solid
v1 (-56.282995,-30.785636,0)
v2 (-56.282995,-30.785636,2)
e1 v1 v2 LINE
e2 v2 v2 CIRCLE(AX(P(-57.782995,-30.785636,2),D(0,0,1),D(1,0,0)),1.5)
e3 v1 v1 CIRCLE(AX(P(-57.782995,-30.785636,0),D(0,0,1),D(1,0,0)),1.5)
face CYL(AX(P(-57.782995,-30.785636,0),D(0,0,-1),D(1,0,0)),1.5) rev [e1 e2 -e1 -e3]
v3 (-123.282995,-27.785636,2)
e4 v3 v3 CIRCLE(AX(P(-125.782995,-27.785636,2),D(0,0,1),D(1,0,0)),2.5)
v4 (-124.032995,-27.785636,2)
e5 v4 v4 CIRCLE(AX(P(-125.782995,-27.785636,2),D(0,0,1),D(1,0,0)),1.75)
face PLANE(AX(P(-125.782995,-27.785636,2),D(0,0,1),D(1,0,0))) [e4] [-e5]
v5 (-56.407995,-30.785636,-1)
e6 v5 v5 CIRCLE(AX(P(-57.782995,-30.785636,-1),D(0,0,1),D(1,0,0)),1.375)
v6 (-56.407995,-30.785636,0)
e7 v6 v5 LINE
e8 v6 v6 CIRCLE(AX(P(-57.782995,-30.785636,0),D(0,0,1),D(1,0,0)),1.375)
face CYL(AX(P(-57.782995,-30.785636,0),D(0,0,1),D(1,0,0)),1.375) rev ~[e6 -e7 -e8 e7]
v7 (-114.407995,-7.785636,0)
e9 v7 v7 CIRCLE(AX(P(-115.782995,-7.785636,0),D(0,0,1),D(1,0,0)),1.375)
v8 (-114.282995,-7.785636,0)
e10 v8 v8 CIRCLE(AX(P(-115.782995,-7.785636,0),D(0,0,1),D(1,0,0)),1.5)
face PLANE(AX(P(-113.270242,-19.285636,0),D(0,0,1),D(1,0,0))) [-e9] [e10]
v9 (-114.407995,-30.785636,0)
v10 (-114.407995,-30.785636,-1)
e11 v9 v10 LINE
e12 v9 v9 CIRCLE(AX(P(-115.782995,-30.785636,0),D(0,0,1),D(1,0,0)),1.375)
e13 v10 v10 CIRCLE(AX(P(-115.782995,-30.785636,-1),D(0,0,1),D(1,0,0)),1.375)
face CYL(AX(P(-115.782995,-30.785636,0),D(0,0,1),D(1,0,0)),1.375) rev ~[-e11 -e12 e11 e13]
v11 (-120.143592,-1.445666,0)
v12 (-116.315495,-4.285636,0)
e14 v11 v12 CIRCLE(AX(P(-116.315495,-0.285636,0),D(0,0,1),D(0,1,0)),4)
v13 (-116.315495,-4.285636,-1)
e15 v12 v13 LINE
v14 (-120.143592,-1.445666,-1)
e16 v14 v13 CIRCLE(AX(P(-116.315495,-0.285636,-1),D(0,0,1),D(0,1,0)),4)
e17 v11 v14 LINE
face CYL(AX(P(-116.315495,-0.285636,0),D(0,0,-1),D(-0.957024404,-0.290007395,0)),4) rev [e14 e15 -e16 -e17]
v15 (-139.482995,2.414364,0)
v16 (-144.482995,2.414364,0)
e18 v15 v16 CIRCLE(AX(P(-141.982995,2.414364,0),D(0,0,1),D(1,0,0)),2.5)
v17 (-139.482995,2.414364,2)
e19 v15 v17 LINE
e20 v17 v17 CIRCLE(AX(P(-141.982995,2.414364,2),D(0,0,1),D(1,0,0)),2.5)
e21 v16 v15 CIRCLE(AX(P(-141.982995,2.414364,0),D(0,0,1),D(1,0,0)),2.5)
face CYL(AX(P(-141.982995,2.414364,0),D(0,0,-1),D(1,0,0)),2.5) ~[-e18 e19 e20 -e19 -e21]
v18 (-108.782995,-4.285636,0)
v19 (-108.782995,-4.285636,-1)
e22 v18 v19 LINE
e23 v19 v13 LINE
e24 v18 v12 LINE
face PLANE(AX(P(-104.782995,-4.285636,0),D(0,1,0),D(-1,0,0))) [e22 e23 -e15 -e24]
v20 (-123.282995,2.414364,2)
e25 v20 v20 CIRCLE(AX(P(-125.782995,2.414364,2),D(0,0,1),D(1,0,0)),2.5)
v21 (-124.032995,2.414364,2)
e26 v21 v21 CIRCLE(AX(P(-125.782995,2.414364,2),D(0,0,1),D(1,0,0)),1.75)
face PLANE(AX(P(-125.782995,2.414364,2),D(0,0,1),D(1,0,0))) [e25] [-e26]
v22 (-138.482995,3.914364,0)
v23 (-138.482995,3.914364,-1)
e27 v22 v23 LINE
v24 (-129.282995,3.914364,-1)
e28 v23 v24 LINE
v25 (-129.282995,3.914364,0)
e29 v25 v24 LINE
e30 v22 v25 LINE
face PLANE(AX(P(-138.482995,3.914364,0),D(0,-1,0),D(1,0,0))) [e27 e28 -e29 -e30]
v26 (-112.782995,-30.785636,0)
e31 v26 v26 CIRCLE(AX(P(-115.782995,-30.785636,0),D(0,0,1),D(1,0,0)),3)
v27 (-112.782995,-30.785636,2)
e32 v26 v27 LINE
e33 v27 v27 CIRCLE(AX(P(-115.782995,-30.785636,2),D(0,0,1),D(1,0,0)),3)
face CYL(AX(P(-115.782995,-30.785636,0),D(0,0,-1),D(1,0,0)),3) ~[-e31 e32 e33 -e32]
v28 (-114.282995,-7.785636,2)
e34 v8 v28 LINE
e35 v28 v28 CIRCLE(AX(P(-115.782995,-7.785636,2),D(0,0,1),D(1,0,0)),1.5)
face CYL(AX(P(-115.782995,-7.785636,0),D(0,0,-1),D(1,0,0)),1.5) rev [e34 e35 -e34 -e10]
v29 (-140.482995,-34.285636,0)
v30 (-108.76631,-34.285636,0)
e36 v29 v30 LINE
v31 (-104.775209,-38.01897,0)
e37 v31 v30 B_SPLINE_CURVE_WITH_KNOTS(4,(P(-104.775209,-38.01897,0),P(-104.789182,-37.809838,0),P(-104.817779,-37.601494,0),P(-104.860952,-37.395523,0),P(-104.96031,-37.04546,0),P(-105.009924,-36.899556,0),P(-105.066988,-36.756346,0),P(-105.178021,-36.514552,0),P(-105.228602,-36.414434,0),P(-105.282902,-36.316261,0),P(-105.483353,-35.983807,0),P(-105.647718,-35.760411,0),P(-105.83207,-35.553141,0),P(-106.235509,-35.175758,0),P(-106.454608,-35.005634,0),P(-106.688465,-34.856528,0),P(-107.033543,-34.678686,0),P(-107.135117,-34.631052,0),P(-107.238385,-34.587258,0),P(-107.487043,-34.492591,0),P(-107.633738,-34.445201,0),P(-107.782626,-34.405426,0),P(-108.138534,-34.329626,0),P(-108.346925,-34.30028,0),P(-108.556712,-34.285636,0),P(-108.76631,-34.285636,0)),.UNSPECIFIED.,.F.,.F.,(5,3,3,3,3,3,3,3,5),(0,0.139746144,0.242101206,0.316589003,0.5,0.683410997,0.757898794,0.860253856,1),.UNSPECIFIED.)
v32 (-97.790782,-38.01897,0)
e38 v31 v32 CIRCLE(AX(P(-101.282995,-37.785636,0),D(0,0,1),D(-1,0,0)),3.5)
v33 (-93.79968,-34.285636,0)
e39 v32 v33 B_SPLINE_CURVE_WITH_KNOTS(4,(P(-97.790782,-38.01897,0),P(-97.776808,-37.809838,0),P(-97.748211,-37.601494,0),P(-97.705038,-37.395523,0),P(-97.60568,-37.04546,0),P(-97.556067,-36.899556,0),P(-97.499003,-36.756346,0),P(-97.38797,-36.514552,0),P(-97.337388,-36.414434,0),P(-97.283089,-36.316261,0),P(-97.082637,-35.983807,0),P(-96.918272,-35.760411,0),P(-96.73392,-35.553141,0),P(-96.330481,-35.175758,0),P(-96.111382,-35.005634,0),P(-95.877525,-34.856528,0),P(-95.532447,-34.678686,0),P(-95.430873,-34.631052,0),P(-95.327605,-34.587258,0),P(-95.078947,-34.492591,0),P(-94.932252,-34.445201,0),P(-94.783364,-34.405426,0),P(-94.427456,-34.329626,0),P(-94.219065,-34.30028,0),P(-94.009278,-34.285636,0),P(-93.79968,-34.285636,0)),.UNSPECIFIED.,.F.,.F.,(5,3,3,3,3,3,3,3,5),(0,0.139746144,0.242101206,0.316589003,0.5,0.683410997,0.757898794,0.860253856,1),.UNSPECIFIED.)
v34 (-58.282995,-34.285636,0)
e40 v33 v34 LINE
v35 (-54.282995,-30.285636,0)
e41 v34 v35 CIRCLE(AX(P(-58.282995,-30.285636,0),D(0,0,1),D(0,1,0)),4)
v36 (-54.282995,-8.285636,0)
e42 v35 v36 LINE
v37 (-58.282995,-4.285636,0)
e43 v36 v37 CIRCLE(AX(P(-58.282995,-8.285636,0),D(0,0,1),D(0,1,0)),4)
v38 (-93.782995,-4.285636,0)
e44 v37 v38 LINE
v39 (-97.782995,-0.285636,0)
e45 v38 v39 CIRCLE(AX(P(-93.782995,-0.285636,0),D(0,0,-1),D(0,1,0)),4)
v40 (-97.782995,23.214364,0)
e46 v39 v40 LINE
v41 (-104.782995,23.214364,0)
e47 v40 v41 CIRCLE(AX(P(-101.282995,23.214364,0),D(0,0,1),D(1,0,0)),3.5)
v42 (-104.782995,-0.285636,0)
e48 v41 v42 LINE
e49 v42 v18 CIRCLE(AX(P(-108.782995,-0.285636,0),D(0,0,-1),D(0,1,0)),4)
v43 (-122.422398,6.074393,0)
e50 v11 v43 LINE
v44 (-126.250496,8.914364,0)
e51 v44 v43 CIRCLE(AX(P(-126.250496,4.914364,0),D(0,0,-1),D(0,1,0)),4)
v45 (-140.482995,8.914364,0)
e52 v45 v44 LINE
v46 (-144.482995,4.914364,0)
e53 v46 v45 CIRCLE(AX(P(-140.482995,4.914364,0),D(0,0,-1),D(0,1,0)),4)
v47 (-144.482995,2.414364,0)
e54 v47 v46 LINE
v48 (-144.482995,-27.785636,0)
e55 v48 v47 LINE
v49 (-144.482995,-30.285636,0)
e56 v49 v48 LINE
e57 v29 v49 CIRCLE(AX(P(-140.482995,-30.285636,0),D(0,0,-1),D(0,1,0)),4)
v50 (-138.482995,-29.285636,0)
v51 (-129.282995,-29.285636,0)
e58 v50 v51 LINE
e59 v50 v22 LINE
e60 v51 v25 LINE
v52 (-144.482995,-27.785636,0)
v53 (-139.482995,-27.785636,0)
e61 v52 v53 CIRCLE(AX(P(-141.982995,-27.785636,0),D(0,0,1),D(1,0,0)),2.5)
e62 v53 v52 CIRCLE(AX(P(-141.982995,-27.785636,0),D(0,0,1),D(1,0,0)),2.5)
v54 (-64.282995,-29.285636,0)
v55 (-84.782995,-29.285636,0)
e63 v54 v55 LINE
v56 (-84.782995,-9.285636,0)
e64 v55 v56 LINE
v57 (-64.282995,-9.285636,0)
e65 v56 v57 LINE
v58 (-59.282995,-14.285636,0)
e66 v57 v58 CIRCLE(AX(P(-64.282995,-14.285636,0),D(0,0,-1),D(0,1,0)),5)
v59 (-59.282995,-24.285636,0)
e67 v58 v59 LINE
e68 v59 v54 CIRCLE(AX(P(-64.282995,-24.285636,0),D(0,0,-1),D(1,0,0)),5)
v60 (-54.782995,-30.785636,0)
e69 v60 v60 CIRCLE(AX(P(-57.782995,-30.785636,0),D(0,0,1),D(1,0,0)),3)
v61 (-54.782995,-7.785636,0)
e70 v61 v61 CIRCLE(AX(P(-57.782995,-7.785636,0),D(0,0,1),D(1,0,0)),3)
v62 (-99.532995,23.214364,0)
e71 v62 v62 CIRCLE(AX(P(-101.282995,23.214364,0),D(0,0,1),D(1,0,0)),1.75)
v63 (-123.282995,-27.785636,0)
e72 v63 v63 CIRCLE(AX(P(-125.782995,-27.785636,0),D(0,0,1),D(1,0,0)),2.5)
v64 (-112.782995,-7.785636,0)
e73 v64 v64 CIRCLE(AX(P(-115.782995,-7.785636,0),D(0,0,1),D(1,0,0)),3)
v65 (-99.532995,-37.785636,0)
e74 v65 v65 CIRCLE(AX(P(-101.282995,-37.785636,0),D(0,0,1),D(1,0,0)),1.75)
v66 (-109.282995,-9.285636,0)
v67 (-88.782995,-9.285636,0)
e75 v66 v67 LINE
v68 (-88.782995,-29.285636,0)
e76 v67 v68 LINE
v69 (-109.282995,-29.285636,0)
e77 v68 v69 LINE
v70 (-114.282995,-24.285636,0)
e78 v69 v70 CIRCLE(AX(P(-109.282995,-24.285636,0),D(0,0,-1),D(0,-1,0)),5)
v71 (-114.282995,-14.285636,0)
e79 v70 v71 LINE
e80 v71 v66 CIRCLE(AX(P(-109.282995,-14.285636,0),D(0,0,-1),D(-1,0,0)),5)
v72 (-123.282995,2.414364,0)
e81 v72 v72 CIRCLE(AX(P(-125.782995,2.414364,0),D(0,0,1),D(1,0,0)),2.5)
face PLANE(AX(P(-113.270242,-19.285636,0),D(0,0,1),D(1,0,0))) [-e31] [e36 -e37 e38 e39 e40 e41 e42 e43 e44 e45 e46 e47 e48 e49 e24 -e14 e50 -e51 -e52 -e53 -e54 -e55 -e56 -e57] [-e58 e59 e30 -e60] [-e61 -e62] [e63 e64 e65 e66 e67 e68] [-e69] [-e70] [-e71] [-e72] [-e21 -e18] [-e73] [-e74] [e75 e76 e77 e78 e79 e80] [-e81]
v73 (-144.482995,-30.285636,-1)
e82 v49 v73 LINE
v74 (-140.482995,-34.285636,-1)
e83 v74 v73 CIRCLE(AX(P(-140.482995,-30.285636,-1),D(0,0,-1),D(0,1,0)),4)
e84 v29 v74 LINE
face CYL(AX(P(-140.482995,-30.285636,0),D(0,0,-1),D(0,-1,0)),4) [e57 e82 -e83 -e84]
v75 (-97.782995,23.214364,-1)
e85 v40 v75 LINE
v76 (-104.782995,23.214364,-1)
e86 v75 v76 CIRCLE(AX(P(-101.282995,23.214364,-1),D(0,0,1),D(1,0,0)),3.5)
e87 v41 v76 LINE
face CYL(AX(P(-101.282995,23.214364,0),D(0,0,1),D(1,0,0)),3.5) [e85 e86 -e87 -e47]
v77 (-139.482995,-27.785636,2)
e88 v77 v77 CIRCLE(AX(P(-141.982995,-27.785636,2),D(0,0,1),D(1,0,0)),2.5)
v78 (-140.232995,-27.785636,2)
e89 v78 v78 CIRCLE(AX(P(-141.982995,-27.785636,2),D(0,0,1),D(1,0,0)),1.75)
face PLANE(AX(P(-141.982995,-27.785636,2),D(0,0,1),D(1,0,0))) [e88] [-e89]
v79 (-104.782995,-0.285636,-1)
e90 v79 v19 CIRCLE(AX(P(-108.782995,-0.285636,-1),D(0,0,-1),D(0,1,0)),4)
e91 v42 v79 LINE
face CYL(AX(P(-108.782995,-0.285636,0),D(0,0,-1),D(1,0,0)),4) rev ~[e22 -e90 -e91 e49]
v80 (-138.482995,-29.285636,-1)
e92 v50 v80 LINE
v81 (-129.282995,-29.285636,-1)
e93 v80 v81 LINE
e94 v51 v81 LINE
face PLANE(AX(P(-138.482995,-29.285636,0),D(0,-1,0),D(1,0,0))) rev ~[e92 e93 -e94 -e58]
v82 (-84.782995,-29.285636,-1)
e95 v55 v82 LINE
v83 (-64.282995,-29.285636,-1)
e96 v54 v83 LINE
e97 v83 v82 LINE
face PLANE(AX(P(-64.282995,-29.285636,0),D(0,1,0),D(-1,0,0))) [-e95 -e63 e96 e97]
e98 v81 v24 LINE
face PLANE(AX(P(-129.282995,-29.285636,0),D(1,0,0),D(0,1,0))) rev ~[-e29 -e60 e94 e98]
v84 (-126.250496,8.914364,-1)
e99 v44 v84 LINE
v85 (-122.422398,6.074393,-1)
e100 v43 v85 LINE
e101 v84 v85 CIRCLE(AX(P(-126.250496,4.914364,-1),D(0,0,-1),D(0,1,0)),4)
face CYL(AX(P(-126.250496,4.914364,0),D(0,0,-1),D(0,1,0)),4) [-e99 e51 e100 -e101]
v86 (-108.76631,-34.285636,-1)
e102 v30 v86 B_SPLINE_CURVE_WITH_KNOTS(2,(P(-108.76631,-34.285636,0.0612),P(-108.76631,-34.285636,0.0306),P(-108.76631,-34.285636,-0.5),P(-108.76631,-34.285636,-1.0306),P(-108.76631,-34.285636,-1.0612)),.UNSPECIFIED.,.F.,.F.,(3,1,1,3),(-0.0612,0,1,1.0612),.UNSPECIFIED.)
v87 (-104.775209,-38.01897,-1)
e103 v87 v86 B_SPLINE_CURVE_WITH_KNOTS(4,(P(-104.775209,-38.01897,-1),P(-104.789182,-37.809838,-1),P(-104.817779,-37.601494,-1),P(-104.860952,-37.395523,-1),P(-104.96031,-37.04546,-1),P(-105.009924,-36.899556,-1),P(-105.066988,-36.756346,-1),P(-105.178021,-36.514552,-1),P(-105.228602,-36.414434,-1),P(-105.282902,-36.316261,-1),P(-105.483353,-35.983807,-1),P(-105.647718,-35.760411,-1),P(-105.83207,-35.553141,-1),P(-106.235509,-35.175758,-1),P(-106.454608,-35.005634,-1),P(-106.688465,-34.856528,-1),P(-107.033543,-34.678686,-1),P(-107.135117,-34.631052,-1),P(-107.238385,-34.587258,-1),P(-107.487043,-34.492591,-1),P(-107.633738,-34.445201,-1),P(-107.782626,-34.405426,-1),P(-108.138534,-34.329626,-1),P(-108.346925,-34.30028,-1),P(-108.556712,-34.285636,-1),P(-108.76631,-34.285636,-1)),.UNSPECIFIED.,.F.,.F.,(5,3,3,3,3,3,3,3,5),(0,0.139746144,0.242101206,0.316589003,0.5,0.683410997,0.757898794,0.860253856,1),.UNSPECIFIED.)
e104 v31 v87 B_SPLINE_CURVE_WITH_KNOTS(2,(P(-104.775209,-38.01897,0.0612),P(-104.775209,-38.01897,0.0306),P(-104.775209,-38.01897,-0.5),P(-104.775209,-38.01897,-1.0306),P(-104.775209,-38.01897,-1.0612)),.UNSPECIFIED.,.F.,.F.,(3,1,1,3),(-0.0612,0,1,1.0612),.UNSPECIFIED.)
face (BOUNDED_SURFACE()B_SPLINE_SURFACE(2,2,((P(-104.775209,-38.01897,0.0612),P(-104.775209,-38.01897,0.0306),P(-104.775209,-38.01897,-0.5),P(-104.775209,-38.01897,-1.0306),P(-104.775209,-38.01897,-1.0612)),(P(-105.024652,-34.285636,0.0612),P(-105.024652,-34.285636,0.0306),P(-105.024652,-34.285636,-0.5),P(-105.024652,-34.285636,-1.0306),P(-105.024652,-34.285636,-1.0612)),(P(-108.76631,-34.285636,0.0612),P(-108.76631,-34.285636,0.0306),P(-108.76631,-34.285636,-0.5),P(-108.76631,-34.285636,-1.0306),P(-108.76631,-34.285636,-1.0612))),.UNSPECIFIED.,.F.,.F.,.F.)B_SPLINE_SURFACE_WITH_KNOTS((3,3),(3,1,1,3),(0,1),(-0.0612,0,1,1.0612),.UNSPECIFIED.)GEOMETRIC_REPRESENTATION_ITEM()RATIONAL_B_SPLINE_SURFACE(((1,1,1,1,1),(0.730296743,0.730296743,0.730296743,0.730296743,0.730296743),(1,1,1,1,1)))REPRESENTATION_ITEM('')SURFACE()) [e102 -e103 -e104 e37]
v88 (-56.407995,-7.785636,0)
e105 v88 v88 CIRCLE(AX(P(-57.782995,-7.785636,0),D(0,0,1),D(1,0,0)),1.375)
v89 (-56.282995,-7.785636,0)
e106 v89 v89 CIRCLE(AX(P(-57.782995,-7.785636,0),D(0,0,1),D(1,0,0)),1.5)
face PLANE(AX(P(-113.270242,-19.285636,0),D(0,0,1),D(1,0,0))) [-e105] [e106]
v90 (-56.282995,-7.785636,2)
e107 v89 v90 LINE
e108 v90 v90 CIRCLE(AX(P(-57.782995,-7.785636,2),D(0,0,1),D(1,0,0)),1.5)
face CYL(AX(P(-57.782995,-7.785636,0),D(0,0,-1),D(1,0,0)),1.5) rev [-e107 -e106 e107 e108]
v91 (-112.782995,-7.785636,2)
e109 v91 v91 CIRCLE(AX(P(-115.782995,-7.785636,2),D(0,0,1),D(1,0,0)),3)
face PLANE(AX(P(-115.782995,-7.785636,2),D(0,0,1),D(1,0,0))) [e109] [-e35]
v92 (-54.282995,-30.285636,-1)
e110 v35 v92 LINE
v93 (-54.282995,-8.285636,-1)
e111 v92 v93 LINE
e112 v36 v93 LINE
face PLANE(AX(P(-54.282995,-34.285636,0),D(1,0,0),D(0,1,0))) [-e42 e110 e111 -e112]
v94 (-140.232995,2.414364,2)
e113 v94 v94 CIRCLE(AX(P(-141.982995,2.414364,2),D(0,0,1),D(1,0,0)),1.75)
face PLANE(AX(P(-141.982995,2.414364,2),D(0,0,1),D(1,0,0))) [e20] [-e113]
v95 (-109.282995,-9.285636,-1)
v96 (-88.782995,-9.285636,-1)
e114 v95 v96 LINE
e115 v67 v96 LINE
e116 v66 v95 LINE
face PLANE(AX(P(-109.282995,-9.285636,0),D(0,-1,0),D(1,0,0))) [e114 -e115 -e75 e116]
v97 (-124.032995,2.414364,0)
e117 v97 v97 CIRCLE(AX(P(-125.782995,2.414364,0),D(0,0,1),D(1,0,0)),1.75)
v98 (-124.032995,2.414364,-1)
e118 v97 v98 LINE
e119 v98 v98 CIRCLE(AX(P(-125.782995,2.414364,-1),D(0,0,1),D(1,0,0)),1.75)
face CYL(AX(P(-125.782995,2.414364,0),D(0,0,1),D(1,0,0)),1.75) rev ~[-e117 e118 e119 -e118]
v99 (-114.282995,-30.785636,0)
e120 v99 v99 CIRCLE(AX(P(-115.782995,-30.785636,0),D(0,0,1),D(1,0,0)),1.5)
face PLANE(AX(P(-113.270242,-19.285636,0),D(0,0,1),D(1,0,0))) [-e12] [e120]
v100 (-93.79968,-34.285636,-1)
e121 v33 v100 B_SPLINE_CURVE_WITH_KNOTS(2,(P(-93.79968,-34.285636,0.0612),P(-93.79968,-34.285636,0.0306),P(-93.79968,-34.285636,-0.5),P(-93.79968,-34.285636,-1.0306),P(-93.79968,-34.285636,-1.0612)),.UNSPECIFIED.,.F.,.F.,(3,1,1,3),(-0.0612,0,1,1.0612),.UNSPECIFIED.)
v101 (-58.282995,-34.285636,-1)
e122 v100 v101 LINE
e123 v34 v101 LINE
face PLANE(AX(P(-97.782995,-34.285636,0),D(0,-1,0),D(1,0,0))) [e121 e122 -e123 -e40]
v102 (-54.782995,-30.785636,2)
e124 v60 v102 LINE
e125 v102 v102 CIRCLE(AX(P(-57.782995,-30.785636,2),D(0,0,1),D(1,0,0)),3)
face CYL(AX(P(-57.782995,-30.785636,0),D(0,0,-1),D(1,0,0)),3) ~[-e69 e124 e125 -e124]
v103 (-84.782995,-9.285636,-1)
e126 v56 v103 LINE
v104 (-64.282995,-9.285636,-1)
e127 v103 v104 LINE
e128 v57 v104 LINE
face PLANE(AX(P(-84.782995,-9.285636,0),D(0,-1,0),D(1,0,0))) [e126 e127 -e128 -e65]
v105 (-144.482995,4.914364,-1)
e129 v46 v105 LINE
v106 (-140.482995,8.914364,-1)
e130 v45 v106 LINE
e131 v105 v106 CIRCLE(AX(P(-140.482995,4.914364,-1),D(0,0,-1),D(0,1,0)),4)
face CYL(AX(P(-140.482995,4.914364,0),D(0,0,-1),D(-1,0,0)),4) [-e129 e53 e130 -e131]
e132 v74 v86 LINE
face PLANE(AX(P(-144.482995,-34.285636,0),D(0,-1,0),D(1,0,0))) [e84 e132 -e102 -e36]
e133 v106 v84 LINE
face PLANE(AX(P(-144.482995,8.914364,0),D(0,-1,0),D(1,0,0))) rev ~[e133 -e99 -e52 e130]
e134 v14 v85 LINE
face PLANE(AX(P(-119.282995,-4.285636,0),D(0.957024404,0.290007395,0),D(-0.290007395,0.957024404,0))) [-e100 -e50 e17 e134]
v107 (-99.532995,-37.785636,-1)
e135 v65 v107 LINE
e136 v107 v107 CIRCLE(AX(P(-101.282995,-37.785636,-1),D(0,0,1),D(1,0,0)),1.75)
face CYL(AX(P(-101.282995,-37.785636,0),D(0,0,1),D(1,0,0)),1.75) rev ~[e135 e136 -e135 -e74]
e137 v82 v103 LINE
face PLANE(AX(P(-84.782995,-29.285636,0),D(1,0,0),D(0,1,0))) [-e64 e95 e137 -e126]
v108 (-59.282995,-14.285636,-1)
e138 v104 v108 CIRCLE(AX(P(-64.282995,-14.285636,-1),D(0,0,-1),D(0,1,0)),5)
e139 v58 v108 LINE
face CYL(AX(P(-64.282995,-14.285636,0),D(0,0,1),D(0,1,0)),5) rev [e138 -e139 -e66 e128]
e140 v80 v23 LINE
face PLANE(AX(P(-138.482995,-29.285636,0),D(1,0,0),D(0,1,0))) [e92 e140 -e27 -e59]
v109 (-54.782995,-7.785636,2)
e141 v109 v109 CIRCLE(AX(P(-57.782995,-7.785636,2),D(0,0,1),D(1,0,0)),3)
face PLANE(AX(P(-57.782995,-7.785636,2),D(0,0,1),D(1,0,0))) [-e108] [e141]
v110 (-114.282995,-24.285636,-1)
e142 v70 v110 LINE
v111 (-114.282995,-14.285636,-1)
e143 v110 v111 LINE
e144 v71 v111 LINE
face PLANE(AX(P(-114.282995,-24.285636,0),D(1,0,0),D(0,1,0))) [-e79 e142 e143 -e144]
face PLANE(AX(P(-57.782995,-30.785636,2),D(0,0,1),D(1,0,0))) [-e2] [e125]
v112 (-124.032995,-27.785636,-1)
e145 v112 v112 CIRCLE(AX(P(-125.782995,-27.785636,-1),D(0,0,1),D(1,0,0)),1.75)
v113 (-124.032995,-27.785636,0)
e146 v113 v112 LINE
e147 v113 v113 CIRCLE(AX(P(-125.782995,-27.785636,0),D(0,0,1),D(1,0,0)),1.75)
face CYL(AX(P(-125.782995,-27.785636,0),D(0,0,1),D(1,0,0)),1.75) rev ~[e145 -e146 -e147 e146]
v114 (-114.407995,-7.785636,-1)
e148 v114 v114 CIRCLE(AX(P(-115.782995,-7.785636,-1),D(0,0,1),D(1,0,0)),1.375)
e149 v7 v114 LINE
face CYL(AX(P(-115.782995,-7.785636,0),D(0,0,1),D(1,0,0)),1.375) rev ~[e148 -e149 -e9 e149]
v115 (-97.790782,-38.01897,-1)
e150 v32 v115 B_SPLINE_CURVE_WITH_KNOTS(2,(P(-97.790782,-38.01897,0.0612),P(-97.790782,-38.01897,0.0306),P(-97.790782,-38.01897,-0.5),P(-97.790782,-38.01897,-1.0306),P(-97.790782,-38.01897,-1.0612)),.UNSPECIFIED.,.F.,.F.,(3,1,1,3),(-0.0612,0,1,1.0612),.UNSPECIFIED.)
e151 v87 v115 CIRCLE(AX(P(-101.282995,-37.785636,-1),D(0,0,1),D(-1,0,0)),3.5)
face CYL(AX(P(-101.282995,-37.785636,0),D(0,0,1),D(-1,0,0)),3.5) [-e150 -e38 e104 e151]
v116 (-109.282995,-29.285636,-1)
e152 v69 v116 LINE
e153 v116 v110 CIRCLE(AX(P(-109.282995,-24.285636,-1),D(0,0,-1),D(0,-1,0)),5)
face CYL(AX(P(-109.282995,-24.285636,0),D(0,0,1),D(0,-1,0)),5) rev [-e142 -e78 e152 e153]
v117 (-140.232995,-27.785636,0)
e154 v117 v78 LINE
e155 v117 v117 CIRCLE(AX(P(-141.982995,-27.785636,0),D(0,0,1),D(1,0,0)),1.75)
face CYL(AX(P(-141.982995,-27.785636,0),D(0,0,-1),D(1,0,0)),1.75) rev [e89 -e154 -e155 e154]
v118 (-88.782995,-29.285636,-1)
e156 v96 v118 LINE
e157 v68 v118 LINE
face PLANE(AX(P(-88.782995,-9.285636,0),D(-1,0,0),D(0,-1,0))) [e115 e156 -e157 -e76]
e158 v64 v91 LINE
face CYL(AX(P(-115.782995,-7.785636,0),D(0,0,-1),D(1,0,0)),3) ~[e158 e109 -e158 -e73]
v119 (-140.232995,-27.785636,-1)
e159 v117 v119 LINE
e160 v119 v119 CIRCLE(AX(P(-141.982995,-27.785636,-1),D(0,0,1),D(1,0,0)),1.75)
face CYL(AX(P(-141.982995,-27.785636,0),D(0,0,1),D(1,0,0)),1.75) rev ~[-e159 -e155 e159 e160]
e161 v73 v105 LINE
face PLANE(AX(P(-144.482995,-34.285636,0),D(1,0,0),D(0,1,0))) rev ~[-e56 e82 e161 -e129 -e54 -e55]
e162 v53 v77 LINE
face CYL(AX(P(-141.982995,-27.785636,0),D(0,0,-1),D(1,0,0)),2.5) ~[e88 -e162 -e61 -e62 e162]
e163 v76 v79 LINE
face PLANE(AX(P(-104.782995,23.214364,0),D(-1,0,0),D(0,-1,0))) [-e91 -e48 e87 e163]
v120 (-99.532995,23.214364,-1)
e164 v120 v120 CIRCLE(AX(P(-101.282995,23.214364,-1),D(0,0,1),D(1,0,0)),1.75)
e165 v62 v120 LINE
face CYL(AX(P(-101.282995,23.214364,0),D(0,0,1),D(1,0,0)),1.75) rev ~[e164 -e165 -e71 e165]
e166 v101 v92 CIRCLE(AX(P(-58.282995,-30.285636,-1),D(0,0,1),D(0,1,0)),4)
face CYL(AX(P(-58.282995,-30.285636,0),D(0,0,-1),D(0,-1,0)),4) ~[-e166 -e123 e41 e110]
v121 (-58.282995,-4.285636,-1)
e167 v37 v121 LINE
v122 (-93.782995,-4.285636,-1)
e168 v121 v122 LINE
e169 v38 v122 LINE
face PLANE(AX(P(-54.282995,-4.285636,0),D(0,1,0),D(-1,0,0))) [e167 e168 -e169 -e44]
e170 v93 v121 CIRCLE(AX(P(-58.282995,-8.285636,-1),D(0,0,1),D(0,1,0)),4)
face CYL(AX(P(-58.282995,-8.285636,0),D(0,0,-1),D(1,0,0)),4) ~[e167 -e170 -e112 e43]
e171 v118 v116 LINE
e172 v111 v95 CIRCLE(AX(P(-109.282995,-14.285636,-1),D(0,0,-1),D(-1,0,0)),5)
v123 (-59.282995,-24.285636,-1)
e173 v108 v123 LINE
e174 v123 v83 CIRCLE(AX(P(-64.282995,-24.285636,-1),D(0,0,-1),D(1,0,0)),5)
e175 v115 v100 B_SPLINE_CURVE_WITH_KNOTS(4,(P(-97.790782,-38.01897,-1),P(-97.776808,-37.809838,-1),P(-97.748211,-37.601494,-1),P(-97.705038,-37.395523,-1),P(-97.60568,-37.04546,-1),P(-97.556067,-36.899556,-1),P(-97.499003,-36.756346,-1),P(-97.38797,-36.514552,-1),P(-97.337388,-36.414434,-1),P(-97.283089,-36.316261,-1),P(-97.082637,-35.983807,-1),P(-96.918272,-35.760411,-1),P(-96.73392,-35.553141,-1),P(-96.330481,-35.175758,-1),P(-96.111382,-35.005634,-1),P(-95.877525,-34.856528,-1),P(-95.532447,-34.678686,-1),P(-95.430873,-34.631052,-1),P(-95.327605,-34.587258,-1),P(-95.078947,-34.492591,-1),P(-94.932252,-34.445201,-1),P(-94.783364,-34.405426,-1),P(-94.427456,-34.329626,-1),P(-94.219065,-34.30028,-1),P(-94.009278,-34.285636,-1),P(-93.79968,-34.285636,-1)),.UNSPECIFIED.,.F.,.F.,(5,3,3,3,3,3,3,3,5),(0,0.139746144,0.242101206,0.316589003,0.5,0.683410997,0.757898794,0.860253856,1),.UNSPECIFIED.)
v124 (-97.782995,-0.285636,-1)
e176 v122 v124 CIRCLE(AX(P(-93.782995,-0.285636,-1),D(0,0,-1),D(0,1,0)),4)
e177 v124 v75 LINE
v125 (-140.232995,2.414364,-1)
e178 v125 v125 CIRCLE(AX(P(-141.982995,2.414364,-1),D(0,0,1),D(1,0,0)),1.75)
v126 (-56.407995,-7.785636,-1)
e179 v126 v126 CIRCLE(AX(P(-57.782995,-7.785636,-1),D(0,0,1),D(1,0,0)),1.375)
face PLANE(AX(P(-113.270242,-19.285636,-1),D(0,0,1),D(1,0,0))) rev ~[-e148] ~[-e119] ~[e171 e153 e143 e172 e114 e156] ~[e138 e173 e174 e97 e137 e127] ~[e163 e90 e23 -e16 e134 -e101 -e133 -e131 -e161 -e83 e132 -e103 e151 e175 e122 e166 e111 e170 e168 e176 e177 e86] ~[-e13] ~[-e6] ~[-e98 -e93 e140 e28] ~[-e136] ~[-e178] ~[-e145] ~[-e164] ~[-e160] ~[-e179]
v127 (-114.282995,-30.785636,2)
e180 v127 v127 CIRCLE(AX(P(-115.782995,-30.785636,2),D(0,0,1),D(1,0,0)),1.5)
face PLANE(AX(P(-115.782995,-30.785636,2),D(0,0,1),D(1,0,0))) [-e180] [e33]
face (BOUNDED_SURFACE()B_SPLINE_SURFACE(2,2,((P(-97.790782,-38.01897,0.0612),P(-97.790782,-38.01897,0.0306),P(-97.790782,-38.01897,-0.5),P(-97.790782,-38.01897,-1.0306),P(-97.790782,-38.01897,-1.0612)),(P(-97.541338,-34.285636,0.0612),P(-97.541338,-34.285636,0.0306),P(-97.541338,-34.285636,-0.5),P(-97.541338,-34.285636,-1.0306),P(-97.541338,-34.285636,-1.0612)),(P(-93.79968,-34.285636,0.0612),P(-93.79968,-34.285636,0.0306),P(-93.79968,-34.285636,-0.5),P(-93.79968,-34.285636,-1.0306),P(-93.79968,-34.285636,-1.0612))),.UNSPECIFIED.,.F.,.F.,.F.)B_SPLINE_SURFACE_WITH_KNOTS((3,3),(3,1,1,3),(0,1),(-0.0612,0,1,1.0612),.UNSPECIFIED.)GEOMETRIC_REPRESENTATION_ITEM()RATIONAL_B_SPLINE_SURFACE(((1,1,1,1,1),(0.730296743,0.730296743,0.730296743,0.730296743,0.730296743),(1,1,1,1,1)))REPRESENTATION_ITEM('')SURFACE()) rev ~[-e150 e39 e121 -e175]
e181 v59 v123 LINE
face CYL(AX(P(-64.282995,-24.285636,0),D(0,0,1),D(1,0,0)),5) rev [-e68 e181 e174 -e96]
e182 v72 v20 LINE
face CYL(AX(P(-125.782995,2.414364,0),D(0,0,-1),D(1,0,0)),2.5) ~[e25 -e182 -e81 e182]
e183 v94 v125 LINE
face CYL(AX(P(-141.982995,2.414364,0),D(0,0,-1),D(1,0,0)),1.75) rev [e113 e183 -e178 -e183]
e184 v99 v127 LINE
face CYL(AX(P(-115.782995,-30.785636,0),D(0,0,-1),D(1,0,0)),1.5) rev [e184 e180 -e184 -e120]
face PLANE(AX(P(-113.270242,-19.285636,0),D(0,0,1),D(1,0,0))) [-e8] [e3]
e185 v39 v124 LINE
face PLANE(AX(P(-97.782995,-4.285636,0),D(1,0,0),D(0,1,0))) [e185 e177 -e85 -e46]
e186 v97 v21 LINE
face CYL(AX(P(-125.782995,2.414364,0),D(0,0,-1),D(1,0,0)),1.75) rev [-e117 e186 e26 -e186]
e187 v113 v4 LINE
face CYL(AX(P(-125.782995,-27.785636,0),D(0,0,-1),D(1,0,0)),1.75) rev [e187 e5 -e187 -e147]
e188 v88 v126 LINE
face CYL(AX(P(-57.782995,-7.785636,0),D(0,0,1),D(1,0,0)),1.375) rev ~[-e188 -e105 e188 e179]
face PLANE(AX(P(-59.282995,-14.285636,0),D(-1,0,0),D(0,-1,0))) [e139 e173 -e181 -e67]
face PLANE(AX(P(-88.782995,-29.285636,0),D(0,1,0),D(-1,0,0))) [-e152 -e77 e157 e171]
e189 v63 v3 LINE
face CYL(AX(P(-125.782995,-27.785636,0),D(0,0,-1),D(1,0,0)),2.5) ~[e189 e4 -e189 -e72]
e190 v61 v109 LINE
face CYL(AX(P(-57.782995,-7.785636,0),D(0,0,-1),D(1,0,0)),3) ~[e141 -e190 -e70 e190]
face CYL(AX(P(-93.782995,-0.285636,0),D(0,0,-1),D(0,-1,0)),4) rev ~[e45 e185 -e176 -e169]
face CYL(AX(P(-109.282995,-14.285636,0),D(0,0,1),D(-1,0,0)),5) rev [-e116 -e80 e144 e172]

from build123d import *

# Parameters (mm, degrees)
F0_R     = 1.375
F0_R_2   = 1.75
F0_W     = 7
F0_H     = 5
F0_W_2   = 21.2
F0_H_2   = 43.2
F0_W_3   = 9.2
F0_H_3   = 33.2
F2_DEPTH = 1
F1_R     = 3
F1_R_2   = 1.5
F1_R_3   = 2.5
F1_R_4   = 1.75
F3_DEPTH = 2
F4_R     = 4


with BuildPart() as f2:
    # F0 (on Top) → F2 (new body)
    with BuildSketch(Plane.XY):
        with BuildLine():
            Line((-104.7829951048, -4.2856363673), (-119.2829951048, -4.2856363673))
            Line((-119.2829951048, -4.2856363673), (-119.2829951048, -34.2856363673))
            Line((-119.2829951048, -34.2856363673), (-104.7829951048, -34.2856363673))
            Line((-104.7829951048, -34.2856363673), (-104.7829951048, -29.2856363673))
            Line((-104.7829951048, -29.2856363673), (-109.2829951048, -29.2856363673))
            ThreePointArc((-109.2829951048, -29.2856363673), (-112.8185290107, -27.8211702732), (-114.2829951048, -24.2856363673))
            Line((-114.2829951048, -24.2856363673), (-114.2829951048, -14.2856363673))
            ThreePointArc((-114.2829951048, -14.2856363673), (-112.8185290107, -10.7501024614), (-109.2829951048, -9.2856363673))
            Line((-109.2829951048, -9.2856363673), (-104.7829951048, -9.2856363673))
            Line((-104.7829951048, -9.2856363673), (-104.7829951048, -4.2856363673))
        make_face()
        with Locations((-115.7829951048, -30.7856363673)):
            Circle(F0_R, mode=Mode.SUBTRACT)
        with Locations((-115.7829951048, -7.7856363673)):
            Circle(F0_R, mode=Mode.SUBTRACT)
        Polygon((-119.2829951048, -34.2856363673), (-119.2829951048, -4.2856363673), (-123.2829951048, 8.9143636327), (-123.2829951048, -34.2856363673), align=None)
        with BuildLine():
            Line((-104.7829951048, 23.2143636327), (-104.7829951048, -4.2856363673))
            Line((-104.7829951048, -4.2856363673), (-97.7829951048, -4.2856363673))
            Line((-97.7829951048, -4.2856363673), (-97.7829951048, 23.2143636327))
            ThreePointArc((-97.7829951048, 23.2143636327), (-101.2829951048, 26.7143636327), (-104.7829951048, 23.2143636327))
        make_face()
        with Locations((-101.2829951048, 23.2143636327)):
            Circle(F0_R_2, mode=Mode.SUBTRACT)
        with Locations((-101.2829951048, -6.7856363673)):
            Rectangle(F0_W, F0_H)
        with Locations((-133.8829951048, -12.6856363673)):
            Rectangle(F0_W_2, F0_H_2)
        with Locations((-141.9829951048, -27.7856363673)):
            Circle(F0_R_2, mode=Mode.SUBTRACT)
        with Locations((-125.7829951048, -27.7856363673)):
            Circle(F0_R_2, mode=Mode.SUBTRACT)
        with Locations((-133.8829951048, -12.6856363673)):
            Rectangle(F0_W_3, F0_H_3, mode=Mode.SUBTRACT)
        with Locations((-141.9829951048, 2.4143636327)):
            Circle(F0_R_2, mode=Mode.SUBTRACT)
        with Locations((-125.7829951048, 2.4143636327)):
            Circle(F0_R_2, mode=Mode.SUBTRACT)
        Polygon((-54.2829951048, -4.2856363673), (-97.7829951048, -4.2856363673), (-97.7829951048, -9.2856363673), (-88.7829951048, -9.2856363673), (-88.7829951048, -29.2856363673), (-97.7829951048, -29.2856363673), (-97.7829951048, -34.2856363673), (-54.2829951048, -34.2856363673), align=None)
        with Locations((-57.7829951048, -30.7856363673)):
            Circle(F0_R, mode=Mode.SUBTRACT)
        with BuildLine():
            ThreePointArc((-64.2829951048, -9.2856363673), (-60.7474611989, -10.7501024614), (-59.2829951048, -14.2856363673))
            Line((-59.2829951048, -14.2856363673), (-59.2829951048, -24.2856363673))
            ThreePointArc((-59.2829951048, -24.2856363673), (-60.7474611989, -27.8211702732), (-64.2829951048, -29.2856363673))
            Line((-64.2829951048, -29.2856363673), (-84.7829951048, -29.2856363673))
            Line((-84.7829951048, -29.2856363673), (-84.7829951048, -9.2856363673))
            Line((-84.7829951048, -9.2856363673), (-64.2829951048, -9.2856363673))
        make_face(mode=Mode.SUBTRACT)
        with Locations((-57.7829951048, -7.7856363673)):
            Circle(F0_R, mode=Mode.SUBTRACT)
        with Locations((-101.2829951048, -31.7856363673)):
            Rectangle(F0_W, F0_H)
        with BuildLine():
            Line((-97.7829951048, -34.2856363673), (-104.7829951048, -34.2856363673))
            Line((-104.7829951048, -34.2856363673), (-104.7829951048, -37.7856363673))
            ThreePointArc((-104.7829951048, -37.7856363673), (-101.2829951048, -41.2856363673), (-97.7829951048, -37.7856363673))
            Line((-97.7829951048, -37.7856363673), (-97.7829951048, -34.2856363673))
        make_face()
        with Locations((-101.2829951048, -37.7856363673)):
            Circle(F0_R_2, mode=Mode.SUBTRACT)
    extrude(amount=-F2_DEPTH)

    # F1 (on Top) → F3 (join)
    with BuildSketch(Plane.XY):
        with Locations((-115.7829951048, -7.7856363673)):
            Circle(F1_R)
        with Locations((-115.7829951048, -7.7856363673)):
            Circle(F1_R_2, mode=Mode.SUBTRACT)
        with Locations((-115.7829951048, -30.7856363673)):
            Circle(F1_R)
        with Locations((-115.7829951048, -30.7856363673)):
            Circle(F1_R_2, mode=Mode.SUBTRACT)
        with Locations((-57.7829951048, -7.7856363673)):
            Circle(F1_R)
        with Locations((-57.7829951048, -7.7856363673)):
            Circle(F1_R_2, mode=Mode.SUBTRACT)
        with Locations((-57.7829951048, -30.7856363673)):
            Circle(F1_R)
        with Locations((-57.7829951048, -30.7856363673)):
            Circle(F1_R_2, mode=Mode.SUBTRACT)
        with Locations((-141.9829951048, 2.4143636327)):
            Circle(F1_R_3)
        with Locations((-141.9829951048, 2.4143636327)):
            Circle(F1_R_4, mode=Mode.SUBTRACT)
        with Locations((-141.9829951048, -27.7856363673)):
            Circle(F1_R_3)
        with Locations((-141.9829951048, -27.7856363673)):
            Circle(F1_R_4, mode=Mode.SUBTRACT)
        with Locations((-125.7829951048, 2.4143636327)):
            Circle(F1_R_3)
        with Locations((-125.7829951048, 2.4143636327)):
            Circle(F1_R_4, mode=Mode.SUBTRACT)
        with Locations((-125.7829951048, -27.7856363673)):
            Circle(F1_R_3)
        with Locations((-125.7829951048, -27.7856363673)):
            Circle(F1_R_4, mode=Mode.SUBTRACT)
    extrude(amount=F3_DEPTH)

    # F4
    f4_edges = [f2.edges().sort_by_distance(p)[0] for p in [
        (-144.482995, 8.914364, -0.5),
        (-123.282995, 8.914364, -0.5),
        (-119.282995, -4.285636, -0.5),
        (-54.282995, -4.285636, -0.5),
        (-97.782995, -4.285636, -0.5),
        (-104.782995, -4.285636, -0.5),
        (-144.482995, -34.285636, -0.5),
        (-54.282995, -34.285636, -0.5),
        (-97.782995, -34.285636, -0.5),
        (-104.782995, -34.285636, -0.5),
    ]]
    fillet(f4_edges, radius=F4_R)


solid = f2.part
